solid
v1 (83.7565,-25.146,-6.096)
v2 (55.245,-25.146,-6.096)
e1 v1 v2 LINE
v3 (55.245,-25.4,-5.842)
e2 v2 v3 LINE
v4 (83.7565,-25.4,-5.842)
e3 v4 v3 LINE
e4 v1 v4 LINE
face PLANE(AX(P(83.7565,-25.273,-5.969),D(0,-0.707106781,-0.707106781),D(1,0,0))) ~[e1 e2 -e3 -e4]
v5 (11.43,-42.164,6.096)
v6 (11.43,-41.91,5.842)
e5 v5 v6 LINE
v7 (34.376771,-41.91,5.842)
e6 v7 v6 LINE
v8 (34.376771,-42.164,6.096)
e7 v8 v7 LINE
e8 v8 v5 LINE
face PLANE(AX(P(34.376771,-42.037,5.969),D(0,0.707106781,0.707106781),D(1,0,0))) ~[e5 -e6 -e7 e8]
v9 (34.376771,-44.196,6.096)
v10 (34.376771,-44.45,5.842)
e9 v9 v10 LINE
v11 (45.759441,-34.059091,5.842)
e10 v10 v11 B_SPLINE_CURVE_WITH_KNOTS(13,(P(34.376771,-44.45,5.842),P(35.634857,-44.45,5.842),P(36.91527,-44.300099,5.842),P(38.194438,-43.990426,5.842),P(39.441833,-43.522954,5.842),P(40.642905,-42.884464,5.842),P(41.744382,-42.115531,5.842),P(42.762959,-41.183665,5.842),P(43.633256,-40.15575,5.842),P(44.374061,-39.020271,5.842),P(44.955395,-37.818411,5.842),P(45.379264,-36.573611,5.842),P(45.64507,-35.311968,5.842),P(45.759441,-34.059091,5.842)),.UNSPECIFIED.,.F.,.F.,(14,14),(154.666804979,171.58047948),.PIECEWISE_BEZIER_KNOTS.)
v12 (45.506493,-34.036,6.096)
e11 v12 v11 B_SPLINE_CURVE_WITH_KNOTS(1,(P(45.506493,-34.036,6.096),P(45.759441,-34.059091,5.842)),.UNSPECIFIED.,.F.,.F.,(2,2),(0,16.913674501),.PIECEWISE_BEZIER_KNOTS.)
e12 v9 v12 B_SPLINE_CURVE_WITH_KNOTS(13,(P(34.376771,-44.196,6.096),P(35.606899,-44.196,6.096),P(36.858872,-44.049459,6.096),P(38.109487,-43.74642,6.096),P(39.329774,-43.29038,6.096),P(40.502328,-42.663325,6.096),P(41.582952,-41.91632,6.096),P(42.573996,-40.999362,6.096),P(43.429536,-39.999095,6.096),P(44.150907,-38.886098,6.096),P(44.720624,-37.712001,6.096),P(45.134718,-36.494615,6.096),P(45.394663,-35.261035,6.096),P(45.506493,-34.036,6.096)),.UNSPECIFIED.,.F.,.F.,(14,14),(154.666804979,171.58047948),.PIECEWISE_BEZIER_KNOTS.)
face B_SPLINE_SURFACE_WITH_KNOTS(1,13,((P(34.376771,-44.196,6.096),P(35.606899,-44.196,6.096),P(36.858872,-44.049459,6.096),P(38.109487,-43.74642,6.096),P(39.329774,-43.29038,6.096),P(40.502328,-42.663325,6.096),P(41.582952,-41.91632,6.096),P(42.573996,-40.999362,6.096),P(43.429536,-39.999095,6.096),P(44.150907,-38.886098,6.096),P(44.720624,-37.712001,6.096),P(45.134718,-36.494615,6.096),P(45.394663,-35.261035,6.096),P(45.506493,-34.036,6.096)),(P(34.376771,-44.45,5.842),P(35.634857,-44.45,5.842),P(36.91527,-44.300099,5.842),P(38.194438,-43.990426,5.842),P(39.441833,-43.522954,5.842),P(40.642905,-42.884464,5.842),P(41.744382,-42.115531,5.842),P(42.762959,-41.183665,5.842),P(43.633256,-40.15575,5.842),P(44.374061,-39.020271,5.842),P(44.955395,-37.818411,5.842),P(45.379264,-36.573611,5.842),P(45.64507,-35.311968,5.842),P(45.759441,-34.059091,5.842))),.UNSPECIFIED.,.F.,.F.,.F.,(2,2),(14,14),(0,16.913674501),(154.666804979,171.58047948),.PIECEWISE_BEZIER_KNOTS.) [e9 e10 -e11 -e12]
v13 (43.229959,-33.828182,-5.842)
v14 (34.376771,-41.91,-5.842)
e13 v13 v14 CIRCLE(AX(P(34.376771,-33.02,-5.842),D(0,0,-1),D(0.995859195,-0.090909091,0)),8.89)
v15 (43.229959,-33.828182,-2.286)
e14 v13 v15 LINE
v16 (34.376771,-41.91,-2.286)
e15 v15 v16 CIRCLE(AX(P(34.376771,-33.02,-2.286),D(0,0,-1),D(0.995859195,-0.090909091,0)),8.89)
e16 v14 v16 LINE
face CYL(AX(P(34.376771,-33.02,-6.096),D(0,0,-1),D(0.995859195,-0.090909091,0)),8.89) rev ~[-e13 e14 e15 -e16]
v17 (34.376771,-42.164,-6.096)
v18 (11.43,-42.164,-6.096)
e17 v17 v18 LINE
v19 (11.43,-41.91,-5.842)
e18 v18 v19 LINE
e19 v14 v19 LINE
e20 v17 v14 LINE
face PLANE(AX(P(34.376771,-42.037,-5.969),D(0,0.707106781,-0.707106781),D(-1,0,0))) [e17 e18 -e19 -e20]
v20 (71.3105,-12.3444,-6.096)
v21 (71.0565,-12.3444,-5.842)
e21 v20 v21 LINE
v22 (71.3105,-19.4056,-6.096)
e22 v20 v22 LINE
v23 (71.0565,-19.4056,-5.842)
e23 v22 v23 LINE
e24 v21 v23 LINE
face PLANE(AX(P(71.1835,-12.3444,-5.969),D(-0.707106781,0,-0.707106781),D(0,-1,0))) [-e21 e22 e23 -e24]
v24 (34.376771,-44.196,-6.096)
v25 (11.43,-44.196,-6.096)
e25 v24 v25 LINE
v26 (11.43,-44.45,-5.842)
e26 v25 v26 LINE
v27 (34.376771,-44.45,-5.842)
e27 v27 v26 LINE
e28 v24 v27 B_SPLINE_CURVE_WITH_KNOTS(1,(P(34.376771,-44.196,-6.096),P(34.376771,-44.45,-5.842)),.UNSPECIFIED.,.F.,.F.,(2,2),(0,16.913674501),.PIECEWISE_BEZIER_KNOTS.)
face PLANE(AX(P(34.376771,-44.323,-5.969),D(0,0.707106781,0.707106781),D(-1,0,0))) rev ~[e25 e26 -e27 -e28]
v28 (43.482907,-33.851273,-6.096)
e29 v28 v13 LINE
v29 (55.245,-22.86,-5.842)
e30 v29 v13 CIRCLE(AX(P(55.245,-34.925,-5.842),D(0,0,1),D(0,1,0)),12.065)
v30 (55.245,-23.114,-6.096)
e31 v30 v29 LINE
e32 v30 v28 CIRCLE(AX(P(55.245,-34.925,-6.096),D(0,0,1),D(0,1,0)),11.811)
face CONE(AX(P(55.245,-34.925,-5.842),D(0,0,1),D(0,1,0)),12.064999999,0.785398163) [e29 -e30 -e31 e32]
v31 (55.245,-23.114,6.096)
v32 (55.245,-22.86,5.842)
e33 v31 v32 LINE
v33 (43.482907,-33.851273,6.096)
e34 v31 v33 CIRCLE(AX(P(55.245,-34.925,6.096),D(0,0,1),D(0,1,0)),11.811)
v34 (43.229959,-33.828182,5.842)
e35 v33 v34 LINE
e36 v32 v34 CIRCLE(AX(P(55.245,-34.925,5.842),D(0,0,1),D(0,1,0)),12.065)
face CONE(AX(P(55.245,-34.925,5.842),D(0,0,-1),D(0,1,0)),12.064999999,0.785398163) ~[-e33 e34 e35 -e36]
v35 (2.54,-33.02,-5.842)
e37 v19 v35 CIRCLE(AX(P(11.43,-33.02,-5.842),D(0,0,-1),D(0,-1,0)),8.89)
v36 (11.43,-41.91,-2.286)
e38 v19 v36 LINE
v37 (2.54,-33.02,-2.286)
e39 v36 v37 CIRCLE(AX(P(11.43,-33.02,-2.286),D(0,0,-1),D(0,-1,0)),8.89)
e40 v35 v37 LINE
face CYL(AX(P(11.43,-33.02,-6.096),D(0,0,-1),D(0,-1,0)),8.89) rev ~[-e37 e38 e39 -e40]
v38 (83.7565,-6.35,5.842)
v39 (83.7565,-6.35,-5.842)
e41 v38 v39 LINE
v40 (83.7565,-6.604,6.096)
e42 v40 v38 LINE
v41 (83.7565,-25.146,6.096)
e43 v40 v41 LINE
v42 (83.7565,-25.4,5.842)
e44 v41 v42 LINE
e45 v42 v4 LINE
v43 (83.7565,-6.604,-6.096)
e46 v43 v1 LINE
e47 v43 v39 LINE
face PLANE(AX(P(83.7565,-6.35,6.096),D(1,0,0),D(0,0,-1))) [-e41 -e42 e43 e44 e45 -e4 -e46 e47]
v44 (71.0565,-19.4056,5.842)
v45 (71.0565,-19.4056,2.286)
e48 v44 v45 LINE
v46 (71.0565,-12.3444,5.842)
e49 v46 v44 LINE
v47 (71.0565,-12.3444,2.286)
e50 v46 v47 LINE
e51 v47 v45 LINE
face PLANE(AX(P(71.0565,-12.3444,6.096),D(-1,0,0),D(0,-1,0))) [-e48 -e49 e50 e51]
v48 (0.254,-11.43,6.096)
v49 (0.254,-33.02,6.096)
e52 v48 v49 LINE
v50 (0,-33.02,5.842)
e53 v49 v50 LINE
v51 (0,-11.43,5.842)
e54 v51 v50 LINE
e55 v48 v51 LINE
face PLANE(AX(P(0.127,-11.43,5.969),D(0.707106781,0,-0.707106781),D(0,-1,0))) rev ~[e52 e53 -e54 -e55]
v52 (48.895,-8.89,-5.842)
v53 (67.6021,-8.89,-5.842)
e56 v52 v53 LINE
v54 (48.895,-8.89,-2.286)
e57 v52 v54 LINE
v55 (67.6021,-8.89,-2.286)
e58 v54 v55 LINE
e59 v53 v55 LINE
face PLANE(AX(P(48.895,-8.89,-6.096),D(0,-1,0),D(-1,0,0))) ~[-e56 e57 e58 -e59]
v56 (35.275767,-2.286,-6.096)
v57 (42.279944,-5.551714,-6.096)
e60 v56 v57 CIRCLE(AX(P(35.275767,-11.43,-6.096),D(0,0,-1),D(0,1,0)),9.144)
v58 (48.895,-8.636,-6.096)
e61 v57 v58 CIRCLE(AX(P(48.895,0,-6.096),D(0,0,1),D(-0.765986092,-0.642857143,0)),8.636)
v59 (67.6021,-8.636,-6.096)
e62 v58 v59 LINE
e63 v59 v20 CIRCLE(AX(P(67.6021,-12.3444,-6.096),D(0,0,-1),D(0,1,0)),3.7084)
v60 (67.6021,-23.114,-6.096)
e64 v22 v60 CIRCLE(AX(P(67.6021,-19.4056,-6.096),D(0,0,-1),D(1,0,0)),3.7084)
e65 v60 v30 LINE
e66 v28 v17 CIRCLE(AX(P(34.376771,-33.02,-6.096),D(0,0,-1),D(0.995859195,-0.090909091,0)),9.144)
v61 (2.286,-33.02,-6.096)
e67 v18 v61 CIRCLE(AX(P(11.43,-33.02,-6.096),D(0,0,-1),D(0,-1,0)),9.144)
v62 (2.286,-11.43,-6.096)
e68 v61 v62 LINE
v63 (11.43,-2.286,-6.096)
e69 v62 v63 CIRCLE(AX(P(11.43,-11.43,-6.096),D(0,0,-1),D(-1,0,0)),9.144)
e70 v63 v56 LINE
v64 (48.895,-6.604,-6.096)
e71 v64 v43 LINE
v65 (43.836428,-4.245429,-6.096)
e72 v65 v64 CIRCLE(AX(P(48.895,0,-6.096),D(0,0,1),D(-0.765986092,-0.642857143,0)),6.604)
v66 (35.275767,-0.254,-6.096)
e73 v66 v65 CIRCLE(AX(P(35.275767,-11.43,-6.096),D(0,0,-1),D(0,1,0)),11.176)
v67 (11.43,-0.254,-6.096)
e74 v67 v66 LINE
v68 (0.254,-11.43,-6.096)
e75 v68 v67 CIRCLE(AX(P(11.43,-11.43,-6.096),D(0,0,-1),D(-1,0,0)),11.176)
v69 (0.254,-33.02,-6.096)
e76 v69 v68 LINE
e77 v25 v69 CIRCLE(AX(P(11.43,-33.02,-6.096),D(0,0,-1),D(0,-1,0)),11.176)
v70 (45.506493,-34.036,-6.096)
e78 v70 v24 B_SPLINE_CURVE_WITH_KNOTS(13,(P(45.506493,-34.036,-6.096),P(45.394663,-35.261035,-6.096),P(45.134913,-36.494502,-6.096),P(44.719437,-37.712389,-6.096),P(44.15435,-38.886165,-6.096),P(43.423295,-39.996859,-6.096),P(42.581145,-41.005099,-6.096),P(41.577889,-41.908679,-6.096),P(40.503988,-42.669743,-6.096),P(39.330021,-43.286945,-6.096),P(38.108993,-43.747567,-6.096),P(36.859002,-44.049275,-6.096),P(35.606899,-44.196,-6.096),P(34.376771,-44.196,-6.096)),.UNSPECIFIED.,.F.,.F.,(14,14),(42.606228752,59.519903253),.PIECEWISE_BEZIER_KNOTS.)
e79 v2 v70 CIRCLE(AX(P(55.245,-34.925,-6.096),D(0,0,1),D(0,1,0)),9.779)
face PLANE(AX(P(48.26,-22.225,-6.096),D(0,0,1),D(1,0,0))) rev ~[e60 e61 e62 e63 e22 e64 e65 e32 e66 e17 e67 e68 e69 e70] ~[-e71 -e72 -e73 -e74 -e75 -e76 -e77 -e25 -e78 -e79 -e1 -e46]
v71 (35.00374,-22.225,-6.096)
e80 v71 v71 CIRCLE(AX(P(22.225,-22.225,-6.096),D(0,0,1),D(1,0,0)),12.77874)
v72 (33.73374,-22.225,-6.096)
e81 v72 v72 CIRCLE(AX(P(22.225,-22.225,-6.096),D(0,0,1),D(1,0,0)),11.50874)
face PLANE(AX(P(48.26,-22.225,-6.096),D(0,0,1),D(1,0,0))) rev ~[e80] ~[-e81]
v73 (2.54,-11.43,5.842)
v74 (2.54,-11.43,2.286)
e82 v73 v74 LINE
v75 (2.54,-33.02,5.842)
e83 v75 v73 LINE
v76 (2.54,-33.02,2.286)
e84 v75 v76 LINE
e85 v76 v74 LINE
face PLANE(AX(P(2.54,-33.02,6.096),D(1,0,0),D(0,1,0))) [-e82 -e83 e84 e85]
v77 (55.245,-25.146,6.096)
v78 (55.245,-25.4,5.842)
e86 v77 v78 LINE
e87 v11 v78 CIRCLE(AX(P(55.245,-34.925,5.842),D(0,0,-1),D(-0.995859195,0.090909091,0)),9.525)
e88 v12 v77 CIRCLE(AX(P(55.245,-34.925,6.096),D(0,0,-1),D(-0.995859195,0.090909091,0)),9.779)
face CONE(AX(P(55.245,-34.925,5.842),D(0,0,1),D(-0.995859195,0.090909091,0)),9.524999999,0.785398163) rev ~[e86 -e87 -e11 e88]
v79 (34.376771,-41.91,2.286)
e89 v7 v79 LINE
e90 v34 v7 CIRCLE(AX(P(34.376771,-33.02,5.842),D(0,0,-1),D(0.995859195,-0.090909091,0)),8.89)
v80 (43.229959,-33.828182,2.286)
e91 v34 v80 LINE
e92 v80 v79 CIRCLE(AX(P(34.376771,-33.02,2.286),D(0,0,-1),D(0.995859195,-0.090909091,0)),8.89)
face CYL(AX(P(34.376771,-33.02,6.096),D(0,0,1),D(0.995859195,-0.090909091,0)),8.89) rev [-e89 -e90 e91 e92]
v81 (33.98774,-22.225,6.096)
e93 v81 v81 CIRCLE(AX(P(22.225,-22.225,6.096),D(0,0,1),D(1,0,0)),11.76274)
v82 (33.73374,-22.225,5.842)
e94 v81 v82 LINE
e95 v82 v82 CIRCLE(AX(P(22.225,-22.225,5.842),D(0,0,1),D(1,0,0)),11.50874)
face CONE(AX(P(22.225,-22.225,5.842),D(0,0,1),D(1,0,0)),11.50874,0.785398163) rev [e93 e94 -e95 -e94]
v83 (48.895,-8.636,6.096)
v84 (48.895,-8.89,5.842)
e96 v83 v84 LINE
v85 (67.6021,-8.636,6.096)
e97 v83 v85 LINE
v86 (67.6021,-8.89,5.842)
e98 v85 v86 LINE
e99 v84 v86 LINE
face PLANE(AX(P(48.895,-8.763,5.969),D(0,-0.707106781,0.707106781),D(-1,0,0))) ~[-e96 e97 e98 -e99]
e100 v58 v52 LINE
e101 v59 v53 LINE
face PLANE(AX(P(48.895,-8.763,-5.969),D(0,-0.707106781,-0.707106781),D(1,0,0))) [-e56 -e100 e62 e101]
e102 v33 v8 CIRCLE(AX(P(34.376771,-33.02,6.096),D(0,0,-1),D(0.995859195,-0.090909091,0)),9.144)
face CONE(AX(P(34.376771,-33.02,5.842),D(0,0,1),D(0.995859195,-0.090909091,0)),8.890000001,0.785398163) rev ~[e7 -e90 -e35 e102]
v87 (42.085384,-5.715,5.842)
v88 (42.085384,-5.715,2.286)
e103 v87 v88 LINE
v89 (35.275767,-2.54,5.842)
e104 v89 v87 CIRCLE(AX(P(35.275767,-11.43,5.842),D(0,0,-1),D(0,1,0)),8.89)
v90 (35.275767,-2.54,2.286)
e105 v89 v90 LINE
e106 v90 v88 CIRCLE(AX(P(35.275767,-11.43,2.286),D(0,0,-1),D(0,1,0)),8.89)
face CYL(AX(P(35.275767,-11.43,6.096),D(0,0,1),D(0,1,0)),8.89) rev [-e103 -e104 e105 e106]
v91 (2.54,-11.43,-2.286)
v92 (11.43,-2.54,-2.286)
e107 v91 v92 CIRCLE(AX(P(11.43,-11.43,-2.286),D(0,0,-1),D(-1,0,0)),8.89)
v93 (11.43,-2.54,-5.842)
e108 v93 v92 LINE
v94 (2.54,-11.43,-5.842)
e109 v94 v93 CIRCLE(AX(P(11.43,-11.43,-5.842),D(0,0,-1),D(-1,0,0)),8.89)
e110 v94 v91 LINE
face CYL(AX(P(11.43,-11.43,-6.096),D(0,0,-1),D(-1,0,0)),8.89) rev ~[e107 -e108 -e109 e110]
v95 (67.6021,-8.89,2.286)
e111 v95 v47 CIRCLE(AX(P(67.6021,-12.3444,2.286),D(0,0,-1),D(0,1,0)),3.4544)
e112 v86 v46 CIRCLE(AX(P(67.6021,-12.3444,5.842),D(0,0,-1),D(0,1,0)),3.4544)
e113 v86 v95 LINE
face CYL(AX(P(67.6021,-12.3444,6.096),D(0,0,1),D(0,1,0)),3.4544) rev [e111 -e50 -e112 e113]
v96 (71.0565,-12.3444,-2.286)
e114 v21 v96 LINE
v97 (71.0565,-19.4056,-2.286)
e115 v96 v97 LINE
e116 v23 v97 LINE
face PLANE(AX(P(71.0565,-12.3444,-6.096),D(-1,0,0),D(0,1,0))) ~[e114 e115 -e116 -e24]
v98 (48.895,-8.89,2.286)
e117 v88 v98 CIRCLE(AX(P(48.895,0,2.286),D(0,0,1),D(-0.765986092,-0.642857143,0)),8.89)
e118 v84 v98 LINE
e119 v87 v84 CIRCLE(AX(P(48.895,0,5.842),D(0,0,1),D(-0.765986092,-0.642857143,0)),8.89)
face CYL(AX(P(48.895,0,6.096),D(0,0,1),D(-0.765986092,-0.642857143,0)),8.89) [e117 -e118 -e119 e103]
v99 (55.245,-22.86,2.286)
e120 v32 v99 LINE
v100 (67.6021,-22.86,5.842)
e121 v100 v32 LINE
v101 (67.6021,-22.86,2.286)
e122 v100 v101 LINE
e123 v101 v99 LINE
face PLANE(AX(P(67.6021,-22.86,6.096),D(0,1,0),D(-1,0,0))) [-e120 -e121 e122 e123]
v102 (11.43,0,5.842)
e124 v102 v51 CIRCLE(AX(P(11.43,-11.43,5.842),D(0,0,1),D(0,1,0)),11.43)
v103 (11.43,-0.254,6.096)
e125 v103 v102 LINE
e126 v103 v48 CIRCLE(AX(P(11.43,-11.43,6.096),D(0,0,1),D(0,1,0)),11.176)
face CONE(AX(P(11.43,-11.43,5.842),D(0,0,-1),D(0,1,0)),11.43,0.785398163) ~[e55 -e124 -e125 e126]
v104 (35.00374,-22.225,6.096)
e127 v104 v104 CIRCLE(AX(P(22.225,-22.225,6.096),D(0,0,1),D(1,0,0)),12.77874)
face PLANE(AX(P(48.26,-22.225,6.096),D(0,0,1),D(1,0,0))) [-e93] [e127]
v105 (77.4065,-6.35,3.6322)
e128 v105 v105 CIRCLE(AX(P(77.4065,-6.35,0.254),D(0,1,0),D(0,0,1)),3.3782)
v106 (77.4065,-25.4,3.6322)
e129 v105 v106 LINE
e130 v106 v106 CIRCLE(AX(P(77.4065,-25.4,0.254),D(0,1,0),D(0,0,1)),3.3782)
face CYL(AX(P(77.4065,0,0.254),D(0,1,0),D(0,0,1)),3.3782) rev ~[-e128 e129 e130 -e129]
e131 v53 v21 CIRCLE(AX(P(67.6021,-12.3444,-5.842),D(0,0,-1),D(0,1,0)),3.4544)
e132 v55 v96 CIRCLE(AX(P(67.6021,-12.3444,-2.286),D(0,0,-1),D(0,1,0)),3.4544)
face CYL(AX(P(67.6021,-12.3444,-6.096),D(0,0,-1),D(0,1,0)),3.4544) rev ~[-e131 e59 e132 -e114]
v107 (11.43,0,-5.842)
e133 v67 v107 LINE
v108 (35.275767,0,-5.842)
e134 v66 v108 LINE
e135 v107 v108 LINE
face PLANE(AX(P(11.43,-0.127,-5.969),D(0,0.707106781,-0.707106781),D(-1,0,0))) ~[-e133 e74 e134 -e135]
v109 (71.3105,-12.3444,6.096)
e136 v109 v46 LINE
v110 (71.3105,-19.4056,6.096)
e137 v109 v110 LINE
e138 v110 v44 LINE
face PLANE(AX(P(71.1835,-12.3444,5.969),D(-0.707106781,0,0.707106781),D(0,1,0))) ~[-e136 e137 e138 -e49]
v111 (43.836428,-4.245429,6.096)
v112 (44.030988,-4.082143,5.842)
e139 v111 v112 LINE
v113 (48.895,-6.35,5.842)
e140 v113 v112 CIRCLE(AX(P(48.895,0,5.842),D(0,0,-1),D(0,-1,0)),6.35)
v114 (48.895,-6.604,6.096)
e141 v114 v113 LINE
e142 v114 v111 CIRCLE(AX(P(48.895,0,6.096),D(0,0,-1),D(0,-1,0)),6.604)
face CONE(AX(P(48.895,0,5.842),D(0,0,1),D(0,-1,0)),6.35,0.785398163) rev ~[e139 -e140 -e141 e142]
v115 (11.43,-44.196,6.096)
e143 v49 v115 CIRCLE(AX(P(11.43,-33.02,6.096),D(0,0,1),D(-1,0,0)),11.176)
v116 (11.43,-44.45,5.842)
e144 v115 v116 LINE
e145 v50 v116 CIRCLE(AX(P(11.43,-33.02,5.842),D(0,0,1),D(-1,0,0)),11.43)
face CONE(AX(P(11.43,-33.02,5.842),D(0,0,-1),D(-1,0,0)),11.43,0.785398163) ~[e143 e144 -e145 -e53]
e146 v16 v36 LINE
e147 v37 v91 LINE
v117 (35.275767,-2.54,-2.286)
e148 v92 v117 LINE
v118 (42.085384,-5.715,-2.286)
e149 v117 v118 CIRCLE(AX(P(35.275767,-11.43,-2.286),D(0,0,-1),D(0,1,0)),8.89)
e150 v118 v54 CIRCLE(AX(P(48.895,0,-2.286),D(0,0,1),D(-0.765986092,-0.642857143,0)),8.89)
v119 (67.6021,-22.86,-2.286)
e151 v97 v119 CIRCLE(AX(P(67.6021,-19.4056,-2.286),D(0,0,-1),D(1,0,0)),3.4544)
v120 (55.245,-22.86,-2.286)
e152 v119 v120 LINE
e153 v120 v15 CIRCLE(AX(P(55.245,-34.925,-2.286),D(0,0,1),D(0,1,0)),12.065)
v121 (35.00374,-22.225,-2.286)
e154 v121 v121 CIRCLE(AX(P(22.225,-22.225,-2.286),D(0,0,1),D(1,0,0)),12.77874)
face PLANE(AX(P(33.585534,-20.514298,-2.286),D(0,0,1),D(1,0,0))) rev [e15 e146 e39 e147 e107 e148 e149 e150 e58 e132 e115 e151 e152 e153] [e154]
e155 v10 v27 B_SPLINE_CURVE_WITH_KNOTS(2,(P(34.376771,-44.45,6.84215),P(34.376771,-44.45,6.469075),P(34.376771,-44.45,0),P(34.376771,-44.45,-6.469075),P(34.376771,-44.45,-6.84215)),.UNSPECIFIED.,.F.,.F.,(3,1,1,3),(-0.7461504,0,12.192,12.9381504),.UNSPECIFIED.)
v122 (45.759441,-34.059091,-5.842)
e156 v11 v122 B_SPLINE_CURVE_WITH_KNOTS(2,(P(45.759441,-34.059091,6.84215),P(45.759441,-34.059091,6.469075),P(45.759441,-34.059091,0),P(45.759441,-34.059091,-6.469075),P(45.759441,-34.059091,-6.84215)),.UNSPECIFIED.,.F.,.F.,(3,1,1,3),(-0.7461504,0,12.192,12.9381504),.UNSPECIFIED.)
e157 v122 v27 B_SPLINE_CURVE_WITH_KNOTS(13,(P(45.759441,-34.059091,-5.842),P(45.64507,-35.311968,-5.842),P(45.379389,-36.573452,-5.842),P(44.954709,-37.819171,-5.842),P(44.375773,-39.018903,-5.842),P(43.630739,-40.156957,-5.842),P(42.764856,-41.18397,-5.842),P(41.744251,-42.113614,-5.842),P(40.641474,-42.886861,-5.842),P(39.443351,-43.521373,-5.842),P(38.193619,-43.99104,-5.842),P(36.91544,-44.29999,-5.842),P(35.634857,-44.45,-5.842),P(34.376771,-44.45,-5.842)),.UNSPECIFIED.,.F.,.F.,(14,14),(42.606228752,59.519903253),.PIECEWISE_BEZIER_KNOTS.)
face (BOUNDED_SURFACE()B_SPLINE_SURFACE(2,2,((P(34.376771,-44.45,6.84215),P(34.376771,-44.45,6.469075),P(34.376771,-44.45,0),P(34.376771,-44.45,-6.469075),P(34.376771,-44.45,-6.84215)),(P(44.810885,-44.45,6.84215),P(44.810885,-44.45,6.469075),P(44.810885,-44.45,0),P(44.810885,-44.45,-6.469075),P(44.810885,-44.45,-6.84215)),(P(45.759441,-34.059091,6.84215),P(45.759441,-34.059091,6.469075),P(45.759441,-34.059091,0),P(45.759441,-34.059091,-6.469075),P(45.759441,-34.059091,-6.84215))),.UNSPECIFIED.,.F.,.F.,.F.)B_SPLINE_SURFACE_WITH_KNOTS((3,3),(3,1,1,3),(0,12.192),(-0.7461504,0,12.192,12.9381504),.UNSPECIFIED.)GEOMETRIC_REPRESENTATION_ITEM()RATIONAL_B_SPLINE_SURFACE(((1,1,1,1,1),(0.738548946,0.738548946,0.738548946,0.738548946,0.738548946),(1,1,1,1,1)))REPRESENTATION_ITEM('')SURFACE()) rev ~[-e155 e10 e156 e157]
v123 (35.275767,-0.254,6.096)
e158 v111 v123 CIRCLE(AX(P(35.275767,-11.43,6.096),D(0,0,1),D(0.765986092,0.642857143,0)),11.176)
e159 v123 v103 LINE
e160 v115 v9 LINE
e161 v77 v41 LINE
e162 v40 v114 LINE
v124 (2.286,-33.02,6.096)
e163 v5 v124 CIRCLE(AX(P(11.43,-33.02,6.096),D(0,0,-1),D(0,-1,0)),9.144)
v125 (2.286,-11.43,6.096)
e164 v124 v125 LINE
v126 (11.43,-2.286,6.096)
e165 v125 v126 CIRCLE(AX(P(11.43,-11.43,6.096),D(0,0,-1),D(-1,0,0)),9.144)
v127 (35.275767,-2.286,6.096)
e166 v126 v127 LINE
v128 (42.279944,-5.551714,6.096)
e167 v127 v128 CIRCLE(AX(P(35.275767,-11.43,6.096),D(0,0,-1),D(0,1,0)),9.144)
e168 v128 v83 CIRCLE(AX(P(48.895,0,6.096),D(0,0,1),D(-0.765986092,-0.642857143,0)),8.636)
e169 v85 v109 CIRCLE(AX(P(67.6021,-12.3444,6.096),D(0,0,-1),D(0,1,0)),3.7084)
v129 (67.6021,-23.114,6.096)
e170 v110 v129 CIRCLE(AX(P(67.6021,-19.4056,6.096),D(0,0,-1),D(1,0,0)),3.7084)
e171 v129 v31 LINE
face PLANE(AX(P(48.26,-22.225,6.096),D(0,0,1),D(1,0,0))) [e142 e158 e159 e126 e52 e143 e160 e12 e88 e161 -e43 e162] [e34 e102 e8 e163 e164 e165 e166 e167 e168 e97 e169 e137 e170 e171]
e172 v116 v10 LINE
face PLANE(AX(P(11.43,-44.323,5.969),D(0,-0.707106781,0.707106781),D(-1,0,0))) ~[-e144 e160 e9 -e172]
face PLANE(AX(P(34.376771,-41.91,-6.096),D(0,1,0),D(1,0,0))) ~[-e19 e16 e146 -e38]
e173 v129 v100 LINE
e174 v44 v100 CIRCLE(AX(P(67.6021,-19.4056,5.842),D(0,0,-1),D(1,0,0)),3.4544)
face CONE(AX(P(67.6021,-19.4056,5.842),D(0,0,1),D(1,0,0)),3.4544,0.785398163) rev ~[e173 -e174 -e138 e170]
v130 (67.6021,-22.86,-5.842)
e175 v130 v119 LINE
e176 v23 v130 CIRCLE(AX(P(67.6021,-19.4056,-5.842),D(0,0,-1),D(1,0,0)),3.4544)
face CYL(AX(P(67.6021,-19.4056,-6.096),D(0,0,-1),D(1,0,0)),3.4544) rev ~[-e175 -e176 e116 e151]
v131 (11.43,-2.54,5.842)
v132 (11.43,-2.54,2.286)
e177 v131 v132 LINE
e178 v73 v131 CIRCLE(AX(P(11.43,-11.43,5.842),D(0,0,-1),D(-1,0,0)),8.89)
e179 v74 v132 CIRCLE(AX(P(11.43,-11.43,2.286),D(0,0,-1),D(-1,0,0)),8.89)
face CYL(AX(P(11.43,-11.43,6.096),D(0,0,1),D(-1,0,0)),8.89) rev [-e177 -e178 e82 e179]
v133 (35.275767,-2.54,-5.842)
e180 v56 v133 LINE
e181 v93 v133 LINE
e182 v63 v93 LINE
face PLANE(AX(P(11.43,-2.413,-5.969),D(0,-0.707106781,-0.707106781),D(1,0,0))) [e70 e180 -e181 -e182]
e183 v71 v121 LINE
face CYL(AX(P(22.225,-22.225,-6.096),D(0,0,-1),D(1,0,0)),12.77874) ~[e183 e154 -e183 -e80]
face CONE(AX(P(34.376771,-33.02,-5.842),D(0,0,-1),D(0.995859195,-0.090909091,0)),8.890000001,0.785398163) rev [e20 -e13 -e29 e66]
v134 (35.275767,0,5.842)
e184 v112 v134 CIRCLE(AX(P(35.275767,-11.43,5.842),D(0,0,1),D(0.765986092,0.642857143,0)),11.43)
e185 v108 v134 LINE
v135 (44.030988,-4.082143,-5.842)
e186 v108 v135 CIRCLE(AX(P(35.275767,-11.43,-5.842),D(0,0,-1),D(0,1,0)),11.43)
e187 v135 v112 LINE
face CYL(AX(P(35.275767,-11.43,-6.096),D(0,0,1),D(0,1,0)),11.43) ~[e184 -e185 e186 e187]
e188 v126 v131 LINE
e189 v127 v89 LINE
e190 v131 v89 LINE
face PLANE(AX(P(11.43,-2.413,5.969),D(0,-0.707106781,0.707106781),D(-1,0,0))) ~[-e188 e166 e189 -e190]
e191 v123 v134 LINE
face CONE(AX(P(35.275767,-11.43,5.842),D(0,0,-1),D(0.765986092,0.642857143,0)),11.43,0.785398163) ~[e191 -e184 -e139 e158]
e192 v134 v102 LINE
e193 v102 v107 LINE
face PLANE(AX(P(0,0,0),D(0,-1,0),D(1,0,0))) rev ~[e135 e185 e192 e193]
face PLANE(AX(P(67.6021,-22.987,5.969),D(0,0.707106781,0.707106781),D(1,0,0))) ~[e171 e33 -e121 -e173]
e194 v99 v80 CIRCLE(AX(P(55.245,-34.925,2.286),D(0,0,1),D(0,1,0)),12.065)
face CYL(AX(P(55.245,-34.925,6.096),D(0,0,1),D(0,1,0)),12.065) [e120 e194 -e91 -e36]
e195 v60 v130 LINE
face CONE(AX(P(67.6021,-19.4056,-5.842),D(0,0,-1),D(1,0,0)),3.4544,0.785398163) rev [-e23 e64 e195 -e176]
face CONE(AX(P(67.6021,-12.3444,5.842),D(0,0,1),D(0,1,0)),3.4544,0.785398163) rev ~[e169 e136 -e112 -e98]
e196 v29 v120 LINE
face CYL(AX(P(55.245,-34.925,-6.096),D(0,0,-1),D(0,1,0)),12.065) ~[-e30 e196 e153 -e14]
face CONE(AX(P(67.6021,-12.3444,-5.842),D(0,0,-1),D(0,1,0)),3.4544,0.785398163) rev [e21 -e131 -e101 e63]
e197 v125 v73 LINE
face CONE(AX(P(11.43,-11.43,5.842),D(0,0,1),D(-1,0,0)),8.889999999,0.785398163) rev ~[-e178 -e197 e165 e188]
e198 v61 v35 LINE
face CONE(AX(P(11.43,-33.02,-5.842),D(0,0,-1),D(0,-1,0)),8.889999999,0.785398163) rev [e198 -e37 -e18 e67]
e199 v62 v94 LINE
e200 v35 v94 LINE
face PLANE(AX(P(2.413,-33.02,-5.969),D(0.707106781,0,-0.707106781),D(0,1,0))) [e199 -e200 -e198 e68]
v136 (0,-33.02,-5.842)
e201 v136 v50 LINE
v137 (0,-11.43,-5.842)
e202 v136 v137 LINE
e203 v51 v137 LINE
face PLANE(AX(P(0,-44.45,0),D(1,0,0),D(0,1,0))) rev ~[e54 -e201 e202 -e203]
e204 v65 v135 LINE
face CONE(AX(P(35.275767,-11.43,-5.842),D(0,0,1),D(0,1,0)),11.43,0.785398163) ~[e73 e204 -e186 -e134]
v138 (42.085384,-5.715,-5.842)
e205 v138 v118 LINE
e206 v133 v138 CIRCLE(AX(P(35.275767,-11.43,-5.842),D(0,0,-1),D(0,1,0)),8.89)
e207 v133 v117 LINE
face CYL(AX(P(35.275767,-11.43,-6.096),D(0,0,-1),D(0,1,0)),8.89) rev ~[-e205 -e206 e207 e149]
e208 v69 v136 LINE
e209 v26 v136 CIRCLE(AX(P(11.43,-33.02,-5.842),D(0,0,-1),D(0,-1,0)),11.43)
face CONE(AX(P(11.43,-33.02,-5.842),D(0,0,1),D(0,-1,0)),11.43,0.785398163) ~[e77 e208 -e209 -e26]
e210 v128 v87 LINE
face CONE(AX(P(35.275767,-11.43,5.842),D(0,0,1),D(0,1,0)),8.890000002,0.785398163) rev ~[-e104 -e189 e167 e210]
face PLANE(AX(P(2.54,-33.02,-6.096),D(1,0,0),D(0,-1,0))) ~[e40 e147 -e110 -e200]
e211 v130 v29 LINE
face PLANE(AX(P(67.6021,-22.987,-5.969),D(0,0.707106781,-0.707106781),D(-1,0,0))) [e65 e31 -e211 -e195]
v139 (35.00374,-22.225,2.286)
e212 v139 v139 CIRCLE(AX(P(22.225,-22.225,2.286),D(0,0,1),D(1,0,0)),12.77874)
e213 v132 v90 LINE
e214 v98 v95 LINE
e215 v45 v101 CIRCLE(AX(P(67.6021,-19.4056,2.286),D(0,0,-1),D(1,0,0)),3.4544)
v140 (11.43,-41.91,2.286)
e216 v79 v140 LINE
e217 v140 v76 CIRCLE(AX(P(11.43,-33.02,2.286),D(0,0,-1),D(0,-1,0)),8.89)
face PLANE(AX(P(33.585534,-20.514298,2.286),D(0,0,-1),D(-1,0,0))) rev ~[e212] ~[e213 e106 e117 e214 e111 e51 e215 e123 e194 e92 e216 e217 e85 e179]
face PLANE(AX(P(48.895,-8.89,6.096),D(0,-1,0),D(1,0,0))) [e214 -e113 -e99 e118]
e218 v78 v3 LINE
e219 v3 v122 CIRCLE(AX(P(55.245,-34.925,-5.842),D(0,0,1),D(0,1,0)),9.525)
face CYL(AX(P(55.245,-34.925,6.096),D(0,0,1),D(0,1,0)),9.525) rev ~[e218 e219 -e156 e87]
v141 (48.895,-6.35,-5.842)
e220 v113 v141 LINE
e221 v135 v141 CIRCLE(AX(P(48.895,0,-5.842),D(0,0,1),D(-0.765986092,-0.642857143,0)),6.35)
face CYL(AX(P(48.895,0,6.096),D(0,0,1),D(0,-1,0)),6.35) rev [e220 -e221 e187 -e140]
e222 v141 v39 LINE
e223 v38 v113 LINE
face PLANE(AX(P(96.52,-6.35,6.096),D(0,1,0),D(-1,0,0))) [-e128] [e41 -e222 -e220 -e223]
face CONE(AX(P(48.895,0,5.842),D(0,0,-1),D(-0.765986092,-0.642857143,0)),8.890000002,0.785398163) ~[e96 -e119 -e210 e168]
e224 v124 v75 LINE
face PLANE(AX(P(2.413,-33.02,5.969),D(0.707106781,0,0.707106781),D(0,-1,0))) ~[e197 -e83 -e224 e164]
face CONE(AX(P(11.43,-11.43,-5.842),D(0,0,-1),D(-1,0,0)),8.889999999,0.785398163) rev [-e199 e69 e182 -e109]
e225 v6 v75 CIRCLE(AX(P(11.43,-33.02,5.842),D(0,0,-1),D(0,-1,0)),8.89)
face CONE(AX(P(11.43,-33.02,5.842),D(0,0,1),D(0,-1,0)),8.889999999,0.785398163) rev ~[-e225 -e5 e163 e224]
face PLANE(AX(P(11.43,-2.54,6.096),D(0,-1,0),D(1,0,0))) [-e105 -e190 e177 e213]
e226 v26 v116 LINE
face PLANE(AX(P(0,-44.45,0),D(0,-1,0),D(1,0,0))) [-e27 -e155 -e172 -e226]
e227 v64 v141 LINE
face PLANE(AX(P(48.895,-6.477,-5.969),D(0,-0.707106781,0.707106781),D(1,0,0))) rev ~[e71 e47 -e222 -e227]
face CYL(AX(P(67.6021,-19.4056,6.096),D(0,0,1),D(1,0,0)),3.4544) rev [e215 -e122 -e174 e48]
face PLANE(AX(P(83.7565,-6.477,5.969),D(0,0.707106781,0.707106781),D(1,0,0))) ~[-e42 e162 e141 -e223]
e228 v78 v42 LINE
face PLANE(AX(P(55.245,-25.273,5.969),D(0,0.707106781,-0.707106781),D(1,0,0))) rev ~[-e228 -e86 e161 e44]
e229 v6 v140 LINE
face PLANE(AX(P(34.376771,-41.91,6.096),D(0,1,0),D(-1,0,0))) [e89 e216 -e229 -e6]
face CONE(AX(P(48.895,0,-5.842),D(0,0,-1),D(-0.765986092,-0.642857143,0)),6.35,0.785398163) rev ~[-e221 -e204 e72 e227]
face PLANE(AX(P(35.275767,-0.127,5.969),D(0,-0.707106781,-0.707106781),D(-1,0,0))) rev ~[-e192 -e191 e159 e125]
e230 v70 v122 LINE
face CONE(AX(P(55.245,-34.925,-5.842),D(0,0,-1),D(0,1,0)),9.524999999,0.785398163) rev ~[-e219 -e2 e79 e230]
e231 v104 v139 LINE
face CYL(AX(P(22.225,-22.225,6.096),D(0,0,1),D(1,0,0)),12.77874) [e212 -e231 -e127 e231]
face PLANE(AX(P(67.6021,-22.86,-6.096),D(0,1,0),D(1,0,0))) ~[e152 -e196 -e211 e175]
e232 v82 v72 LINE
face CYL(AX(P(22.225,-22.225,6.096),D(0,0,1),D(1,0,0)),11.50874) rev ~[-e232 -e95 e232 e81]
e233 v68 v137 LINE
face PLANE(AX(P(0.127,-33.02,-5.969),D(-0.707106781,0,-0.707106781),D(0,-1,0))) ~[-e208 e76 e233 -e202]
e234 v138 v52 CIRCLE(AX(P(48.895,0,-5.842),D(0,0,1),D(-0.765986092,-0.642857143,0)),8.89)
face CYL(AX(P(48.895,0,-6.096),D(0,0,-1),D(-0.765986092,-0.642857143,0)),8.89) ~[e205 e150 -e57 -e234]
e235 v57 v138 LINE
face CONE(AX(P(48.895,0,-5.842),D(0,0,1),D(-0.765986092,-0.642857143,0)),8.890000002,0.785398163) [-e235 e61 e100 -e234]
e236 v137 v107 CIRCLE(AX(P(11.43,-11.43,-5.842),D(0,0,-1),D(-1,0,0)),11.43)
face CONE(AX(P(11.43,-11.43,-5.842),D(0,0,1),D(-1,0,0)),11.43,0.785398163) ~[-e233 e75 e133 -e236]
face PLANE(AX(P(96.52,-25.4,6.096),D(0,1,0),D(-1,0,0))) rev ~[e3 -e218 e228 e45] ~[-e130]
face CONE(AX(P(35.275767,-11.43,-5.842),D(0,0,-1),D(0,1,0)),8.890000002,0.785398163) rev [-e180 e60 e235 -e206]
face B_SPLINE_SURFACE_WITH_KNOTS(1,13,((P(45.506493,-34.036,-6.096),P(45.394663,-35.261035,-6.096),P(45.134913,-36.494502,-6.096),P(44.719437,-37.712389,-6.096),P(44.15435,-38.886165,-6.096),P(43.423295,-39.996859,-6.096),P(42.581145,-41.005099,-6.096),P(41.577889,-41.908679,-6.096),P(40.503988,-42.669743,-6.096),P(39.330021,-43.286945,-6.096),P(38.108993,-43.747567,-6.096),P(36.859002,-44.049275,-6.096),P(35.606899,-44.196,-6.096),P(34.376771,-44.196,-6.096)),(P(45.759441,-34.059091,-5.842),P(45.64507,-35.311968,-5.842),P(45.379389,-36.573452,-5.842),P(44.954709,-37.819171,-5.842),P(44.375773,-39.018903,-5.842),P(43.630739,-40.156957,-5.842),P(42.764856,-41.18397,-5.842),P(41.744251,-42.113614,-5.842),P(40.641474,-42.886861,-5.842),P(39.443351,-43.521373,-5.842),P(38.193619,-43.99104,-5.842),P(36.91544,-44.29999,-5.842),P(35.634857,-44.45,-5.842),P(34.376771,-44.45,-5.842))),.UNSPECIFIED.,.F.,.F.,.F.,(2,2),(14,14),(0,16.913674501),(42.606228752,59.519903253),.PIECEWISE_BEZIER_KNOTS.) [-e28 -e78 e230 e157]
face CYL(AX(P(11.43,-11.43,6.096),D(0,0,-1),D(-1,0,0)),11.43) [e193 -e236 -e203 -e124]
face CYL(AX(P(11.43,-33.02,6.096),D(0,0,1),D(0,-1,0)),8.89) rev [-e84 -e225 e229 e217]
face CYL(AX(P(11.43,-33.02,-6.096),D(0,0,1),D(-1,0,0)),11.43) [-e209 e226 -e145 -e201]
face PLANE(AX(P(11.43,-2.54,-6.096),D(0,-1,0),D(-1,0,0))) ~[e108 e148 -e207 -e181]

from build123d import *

# Parameters (mm, degrees)
SKETCH1_W           = 96.52
SKETCH1_H           = 44.45
BOSS_EXTRUDE1_DEPTH = 6.096
CUT_EXTRUDE1_REACH  = 108.961
SKETCH2_R           = 11.50874
CUT_EXTRUDE2_REACH  = 108.438
SKETCH3_R           = 3.3782
CUT_EXTRUDE3_REACH  = 108.961
SKETCH7_W           = 12.7635
SKETCH7_H           = 12.192
CUT_EXTRUDE5_DEPTH  = 104.946532487
FILLET1_R           = 11.43
SKETCH5_R           = 12.77874
CUT_EXTRUDE4_DEPTH  = 3.81
CHAMFER1_SIZE       = 0.254


with BuildPart() as part:
    # Sketch1 → Boss-Extrude1 (new, symmetric)
    with BuildSketch(Plane.XY):
        with Locations((48.26, -22.225)):
            Rectangle(SKETCH1_W, SKETCH1_H)
    extrude(amount=BOSS_EXTRUDE1_DEPTH, both=True)

    # Sketch2 → Cut-Extrude1 (cut, up to next)
    with BuildSketch(Plane.XY.offset(6.096), mode=Mode.PRIVATE) as cut_extrude1_sk1:
        with Locations((22.225, -22.225)):
            Circle(SKETCH2_R)
    cut_extrude1_tool1 = extrude(cut_extrude1_sk1.sketch, amount=-CUT_EXTRUDE1_REACH, mode=Mode.PRIVATE) & part.part
    add(cut_extrude1_tool1.solids().sort_by_distance((22.225, -22.225, 6.096))[0], mode=Mode.SUBTRACT)

    # Sketch3 → Cut-Extrude2 (cut, up to next)
    with BuildSketch(Plane(origin=(0, 0, 0), x_dir=(1, 0, 0), z_dir=(0, 1, 0)), mode=Mode.PRIVATE) as cut_extrude2_sk1:
        with Locations(Location((77.4065, -0.254, 0), (0, 0, 270))):
            Circle(SKETCH3_R)
    cut_extrude2_tool1 = extrude(cut_extrude2_sk1.sketch, amount=-CUT_EXTRUDE2_REACH, mode=Mode.PRIVATE) & part.part
    add(cut_extrude2_tool1.solids().sort_by_distance((77.4065, 0, 0.254))[0], mode=Mode.SUBTRACT)

    # Sketch4 → Cut-Extrude3 (cut, up to next)
    with BuildSketch(Plane.XY.offset(6.096), mode=Mode.PRIVATE) as cut_extrude3_sk1:
        with BuildLine():
            Line((48.895, 6.35), (96.52, 6.35))
            ThreePointArc((96.52, 6.35), (102.87, 0), (96.52, -6.35))
            Line((96.52, -6.35), (48.895, -6.35))
            ThreePointArc((48.895, -6.35), (42.545, 0), (48.895, 6.35))
        make_face()
    cut_extrude3_tool1 = extrude(cut_extrude3_sk1.sketch, amount=-CUT_EXTRUDE3_REACH, mode=Mode.PRIVATE) & part.part
    # Sketch4 → Cut-Extrude3 (cut, up to next)
    with BuildSketch(Plane.XY.offset(6.096), mode=Mode.PRIVATE) as cut_extrude3_sk2:
        with BuildLine():
            Line((45.72, -34.925), (45.72, -44.45))
            Line((45.72, -44.45), (55.245, -44.45))
            Line((55.245, -44.45), (96.52, -44.45))
            ThreePointArc((96.52, -44.45), (106.045, -34.925), (96.52, -25.4))
            Line((96.52, -25.4), (55.245, -25.4))
            ThreePointArc((55.245, -25.4), (48.509807909, -28.189807909), (45.72, -34.925))
        make_face()
    cut_extrude3_tool2 = extrude(cut_extrude3_sk2.sketch, amount=-CUT_EXTRUDE3_REACH, mode=Mode.PRIVATE) & part.part
    add(cut_extrude3_tool1.solids().sort_by_distance((72.7075, 0, 6.096))[0], mode=Mode.SUBTRACT)
    add(cut_extrude3_tool2.solids().sort_by_distance((75.382091, -35.05704, 6.096))[0], mode=Mode.SUBTRACT)

    # Sketch7 → Cut-Extrude5 (cut, through all)
    with BuildSketch(Plane(origin=(0, -6.35, 0), x_dir=(1, 0, 0), z_dir=(0, 1, 0))):
        with Locations((90.13825, 0)):
            Rectangle(SKETCH7_W, SKETCH7_H)
    extrude(amount=-CUT_EXTRUDE5_DEPTH, mode=Mode.SUBTRACT)

    # Fillet1
    fillet1_edges = [part.edges().sort_by_distance(p)[0] for p in [
        (42.545, 0, 0),
        (45.72, -44.45, 0),
        (0, -44.45, 0),
        (0, 0, 0),
    ]]
    fillet(fillet1_edges, radius=FILLET1_R)

    # Sketch5 → Cut-Extrude4 (cut)
    with BuildSketch(Plane.XY.offset(6.096)):
        with BuildLine():
            Line((71.0565, -12.3444), (71.0565, -19.4056))
            ThreePointArc((71.0565, -19.4056), (70.044729665, -21.848229665), (67.6021, -22.86))
            Line((67.6021, -22.86), (55.245, -22.86))
            ThreePointArc((55.245, -22.86), (47.110778659, -26.014406968), (43.229958807, -33.828181818))
            ThreePointArc((43.229958807, -33.828181818), (40.370407336, -39.585700129), (34.376770559, -41.91))
            Line((34.376770559, -41.91), (11.43, -41.91))
            ThreePointArc((11.43, -41.91), (5.143820715, -39.306179285), (2.54, -33.02))
            Line((2.54, -33.02), (2.54, -11.43))
            ThreePointArc((2.54, -11.43), (5.143820715, -5.143820715), (11.43, -2.54))
            Line((11.43, -2.54), (35.275767276, -2.54))
            ThreePointArc((35.275767276, -2.54), (39.032477938, -3.372753262), (42.085383638, -5.715))
            ThreePointArc((42.085383638, -5.715), (45.138289338, -8.057246738), (48.895, -8.89))
            Line((48.895, -8.89), (67.6021, -8.89))
            ThreePointArc((67.6021, -8.89), (70.044729665, -9.901770335), (71.0565, -12.3444))
        make_face()
        with Locations((22.225, -22.225)):
            Circle(SKETCH5_R, mode=Mode.SUBTRACT)
    cut_extrude4 = extrude(amount=-CUT_EXTRUDE4_DEPTH, mode=Mode.SUBTRACT)

    # Mirror3: Cut-Extrude4 across plane
    add(cut_extrude4.mirror(Plane.XY), mode=Mode.SUBTRACT)

    # Chamfer1
    chamfer1_edges = [part.edges().sort_by_distance(p)[0] for p in [
        (70.044729665, -21.848229665, 6.096),
        (71.0565, -15.875, 6.096),
        (70.044729665, -9.901770335, 6.096),
        (58.24855, -8.89, 6.096),
        (45.138289338, -8.057246738, 6.096),
        (39.032477938, -3.372753262, 6.096),
        (23.352883638, -2.54, 6.096),
        (5.143820715, -5.143820715, 6.096),
        (2.54, -22.225, 6.096),
        (5.143820715, -39.306179285, 6.096),
        (22.90338528, -41.91, 6.096),
        (40.370407336, -39.585700129, 6.096),
        (47.110778659, -26.014406968, 6.096),
        (61.42355, -22.86, 6.096),
        (10.71626, -22.225, 6.096),
        (70.044729665, -21.848229665, -6.096),
        (71.0565, -15.875, -6.096),
        (70.044729665, -9.901770335, -6.096),
        (58.24855, -8.89, -6.096),
        (45.138289338, -8.057246738, -6.096),
        (39.032477938, -3.372753262, -6.096),
        (23.352883638, -2.54, -6.096),
        (5.143820715, -5.143820715, -6.096),
        (2.54, -22.225, -6.096),
        (5.143820715, -39.306179285, -6.096),
        (22.90338528, -41.91, -6.096),
        (40.370407336, -39.585700129, -6.096),
        (47.110778659, -26.014406968, -6.096),
        (61.42355, -22.86, -6.096),
        (46.211635241, -5.755176242, -6.096),
        (66.32575, -6.35, 6.096),
        (69.50075, -25.4, -6.096),
        (48.82324631, -27.890321291, 6.096),
        (66.32575, -6.35, -6.096),
        (69.50075, -25.4, 6.096),
        (46.211635241, -5.755176242, 6.096),
        (23.352883638, 0, 6.096),
        (0, -22.225, 6.096),
        (22.90338528, -44.45, 6.096),
        (3.347769491, -3.347769491, 6.096),
        (3.347769491, -41.102230509, 6.096),
        (42.082874987, -41.461614451, 6.096),
        (40.105823841, -1.070682765, 6.096),
        (23.352883638, 0, -6.096),
        (48.82324631, -27.890321291, -6.096),
        (22.90338528, -44.45, -6.096),
        (0, -22.225, -6.096),
        (3.347769491, -3.347769491, -6.096),
        (3.347769491, -41.102230509, -6.096),
        (42.082874987, -41.461614451, -6.096),
        (40.105823841, -1.070682765, -6.096),
    ]]
    chamfer(chamfer1_edges, length=CHAMFER1_SIZE)


solid = part.part
